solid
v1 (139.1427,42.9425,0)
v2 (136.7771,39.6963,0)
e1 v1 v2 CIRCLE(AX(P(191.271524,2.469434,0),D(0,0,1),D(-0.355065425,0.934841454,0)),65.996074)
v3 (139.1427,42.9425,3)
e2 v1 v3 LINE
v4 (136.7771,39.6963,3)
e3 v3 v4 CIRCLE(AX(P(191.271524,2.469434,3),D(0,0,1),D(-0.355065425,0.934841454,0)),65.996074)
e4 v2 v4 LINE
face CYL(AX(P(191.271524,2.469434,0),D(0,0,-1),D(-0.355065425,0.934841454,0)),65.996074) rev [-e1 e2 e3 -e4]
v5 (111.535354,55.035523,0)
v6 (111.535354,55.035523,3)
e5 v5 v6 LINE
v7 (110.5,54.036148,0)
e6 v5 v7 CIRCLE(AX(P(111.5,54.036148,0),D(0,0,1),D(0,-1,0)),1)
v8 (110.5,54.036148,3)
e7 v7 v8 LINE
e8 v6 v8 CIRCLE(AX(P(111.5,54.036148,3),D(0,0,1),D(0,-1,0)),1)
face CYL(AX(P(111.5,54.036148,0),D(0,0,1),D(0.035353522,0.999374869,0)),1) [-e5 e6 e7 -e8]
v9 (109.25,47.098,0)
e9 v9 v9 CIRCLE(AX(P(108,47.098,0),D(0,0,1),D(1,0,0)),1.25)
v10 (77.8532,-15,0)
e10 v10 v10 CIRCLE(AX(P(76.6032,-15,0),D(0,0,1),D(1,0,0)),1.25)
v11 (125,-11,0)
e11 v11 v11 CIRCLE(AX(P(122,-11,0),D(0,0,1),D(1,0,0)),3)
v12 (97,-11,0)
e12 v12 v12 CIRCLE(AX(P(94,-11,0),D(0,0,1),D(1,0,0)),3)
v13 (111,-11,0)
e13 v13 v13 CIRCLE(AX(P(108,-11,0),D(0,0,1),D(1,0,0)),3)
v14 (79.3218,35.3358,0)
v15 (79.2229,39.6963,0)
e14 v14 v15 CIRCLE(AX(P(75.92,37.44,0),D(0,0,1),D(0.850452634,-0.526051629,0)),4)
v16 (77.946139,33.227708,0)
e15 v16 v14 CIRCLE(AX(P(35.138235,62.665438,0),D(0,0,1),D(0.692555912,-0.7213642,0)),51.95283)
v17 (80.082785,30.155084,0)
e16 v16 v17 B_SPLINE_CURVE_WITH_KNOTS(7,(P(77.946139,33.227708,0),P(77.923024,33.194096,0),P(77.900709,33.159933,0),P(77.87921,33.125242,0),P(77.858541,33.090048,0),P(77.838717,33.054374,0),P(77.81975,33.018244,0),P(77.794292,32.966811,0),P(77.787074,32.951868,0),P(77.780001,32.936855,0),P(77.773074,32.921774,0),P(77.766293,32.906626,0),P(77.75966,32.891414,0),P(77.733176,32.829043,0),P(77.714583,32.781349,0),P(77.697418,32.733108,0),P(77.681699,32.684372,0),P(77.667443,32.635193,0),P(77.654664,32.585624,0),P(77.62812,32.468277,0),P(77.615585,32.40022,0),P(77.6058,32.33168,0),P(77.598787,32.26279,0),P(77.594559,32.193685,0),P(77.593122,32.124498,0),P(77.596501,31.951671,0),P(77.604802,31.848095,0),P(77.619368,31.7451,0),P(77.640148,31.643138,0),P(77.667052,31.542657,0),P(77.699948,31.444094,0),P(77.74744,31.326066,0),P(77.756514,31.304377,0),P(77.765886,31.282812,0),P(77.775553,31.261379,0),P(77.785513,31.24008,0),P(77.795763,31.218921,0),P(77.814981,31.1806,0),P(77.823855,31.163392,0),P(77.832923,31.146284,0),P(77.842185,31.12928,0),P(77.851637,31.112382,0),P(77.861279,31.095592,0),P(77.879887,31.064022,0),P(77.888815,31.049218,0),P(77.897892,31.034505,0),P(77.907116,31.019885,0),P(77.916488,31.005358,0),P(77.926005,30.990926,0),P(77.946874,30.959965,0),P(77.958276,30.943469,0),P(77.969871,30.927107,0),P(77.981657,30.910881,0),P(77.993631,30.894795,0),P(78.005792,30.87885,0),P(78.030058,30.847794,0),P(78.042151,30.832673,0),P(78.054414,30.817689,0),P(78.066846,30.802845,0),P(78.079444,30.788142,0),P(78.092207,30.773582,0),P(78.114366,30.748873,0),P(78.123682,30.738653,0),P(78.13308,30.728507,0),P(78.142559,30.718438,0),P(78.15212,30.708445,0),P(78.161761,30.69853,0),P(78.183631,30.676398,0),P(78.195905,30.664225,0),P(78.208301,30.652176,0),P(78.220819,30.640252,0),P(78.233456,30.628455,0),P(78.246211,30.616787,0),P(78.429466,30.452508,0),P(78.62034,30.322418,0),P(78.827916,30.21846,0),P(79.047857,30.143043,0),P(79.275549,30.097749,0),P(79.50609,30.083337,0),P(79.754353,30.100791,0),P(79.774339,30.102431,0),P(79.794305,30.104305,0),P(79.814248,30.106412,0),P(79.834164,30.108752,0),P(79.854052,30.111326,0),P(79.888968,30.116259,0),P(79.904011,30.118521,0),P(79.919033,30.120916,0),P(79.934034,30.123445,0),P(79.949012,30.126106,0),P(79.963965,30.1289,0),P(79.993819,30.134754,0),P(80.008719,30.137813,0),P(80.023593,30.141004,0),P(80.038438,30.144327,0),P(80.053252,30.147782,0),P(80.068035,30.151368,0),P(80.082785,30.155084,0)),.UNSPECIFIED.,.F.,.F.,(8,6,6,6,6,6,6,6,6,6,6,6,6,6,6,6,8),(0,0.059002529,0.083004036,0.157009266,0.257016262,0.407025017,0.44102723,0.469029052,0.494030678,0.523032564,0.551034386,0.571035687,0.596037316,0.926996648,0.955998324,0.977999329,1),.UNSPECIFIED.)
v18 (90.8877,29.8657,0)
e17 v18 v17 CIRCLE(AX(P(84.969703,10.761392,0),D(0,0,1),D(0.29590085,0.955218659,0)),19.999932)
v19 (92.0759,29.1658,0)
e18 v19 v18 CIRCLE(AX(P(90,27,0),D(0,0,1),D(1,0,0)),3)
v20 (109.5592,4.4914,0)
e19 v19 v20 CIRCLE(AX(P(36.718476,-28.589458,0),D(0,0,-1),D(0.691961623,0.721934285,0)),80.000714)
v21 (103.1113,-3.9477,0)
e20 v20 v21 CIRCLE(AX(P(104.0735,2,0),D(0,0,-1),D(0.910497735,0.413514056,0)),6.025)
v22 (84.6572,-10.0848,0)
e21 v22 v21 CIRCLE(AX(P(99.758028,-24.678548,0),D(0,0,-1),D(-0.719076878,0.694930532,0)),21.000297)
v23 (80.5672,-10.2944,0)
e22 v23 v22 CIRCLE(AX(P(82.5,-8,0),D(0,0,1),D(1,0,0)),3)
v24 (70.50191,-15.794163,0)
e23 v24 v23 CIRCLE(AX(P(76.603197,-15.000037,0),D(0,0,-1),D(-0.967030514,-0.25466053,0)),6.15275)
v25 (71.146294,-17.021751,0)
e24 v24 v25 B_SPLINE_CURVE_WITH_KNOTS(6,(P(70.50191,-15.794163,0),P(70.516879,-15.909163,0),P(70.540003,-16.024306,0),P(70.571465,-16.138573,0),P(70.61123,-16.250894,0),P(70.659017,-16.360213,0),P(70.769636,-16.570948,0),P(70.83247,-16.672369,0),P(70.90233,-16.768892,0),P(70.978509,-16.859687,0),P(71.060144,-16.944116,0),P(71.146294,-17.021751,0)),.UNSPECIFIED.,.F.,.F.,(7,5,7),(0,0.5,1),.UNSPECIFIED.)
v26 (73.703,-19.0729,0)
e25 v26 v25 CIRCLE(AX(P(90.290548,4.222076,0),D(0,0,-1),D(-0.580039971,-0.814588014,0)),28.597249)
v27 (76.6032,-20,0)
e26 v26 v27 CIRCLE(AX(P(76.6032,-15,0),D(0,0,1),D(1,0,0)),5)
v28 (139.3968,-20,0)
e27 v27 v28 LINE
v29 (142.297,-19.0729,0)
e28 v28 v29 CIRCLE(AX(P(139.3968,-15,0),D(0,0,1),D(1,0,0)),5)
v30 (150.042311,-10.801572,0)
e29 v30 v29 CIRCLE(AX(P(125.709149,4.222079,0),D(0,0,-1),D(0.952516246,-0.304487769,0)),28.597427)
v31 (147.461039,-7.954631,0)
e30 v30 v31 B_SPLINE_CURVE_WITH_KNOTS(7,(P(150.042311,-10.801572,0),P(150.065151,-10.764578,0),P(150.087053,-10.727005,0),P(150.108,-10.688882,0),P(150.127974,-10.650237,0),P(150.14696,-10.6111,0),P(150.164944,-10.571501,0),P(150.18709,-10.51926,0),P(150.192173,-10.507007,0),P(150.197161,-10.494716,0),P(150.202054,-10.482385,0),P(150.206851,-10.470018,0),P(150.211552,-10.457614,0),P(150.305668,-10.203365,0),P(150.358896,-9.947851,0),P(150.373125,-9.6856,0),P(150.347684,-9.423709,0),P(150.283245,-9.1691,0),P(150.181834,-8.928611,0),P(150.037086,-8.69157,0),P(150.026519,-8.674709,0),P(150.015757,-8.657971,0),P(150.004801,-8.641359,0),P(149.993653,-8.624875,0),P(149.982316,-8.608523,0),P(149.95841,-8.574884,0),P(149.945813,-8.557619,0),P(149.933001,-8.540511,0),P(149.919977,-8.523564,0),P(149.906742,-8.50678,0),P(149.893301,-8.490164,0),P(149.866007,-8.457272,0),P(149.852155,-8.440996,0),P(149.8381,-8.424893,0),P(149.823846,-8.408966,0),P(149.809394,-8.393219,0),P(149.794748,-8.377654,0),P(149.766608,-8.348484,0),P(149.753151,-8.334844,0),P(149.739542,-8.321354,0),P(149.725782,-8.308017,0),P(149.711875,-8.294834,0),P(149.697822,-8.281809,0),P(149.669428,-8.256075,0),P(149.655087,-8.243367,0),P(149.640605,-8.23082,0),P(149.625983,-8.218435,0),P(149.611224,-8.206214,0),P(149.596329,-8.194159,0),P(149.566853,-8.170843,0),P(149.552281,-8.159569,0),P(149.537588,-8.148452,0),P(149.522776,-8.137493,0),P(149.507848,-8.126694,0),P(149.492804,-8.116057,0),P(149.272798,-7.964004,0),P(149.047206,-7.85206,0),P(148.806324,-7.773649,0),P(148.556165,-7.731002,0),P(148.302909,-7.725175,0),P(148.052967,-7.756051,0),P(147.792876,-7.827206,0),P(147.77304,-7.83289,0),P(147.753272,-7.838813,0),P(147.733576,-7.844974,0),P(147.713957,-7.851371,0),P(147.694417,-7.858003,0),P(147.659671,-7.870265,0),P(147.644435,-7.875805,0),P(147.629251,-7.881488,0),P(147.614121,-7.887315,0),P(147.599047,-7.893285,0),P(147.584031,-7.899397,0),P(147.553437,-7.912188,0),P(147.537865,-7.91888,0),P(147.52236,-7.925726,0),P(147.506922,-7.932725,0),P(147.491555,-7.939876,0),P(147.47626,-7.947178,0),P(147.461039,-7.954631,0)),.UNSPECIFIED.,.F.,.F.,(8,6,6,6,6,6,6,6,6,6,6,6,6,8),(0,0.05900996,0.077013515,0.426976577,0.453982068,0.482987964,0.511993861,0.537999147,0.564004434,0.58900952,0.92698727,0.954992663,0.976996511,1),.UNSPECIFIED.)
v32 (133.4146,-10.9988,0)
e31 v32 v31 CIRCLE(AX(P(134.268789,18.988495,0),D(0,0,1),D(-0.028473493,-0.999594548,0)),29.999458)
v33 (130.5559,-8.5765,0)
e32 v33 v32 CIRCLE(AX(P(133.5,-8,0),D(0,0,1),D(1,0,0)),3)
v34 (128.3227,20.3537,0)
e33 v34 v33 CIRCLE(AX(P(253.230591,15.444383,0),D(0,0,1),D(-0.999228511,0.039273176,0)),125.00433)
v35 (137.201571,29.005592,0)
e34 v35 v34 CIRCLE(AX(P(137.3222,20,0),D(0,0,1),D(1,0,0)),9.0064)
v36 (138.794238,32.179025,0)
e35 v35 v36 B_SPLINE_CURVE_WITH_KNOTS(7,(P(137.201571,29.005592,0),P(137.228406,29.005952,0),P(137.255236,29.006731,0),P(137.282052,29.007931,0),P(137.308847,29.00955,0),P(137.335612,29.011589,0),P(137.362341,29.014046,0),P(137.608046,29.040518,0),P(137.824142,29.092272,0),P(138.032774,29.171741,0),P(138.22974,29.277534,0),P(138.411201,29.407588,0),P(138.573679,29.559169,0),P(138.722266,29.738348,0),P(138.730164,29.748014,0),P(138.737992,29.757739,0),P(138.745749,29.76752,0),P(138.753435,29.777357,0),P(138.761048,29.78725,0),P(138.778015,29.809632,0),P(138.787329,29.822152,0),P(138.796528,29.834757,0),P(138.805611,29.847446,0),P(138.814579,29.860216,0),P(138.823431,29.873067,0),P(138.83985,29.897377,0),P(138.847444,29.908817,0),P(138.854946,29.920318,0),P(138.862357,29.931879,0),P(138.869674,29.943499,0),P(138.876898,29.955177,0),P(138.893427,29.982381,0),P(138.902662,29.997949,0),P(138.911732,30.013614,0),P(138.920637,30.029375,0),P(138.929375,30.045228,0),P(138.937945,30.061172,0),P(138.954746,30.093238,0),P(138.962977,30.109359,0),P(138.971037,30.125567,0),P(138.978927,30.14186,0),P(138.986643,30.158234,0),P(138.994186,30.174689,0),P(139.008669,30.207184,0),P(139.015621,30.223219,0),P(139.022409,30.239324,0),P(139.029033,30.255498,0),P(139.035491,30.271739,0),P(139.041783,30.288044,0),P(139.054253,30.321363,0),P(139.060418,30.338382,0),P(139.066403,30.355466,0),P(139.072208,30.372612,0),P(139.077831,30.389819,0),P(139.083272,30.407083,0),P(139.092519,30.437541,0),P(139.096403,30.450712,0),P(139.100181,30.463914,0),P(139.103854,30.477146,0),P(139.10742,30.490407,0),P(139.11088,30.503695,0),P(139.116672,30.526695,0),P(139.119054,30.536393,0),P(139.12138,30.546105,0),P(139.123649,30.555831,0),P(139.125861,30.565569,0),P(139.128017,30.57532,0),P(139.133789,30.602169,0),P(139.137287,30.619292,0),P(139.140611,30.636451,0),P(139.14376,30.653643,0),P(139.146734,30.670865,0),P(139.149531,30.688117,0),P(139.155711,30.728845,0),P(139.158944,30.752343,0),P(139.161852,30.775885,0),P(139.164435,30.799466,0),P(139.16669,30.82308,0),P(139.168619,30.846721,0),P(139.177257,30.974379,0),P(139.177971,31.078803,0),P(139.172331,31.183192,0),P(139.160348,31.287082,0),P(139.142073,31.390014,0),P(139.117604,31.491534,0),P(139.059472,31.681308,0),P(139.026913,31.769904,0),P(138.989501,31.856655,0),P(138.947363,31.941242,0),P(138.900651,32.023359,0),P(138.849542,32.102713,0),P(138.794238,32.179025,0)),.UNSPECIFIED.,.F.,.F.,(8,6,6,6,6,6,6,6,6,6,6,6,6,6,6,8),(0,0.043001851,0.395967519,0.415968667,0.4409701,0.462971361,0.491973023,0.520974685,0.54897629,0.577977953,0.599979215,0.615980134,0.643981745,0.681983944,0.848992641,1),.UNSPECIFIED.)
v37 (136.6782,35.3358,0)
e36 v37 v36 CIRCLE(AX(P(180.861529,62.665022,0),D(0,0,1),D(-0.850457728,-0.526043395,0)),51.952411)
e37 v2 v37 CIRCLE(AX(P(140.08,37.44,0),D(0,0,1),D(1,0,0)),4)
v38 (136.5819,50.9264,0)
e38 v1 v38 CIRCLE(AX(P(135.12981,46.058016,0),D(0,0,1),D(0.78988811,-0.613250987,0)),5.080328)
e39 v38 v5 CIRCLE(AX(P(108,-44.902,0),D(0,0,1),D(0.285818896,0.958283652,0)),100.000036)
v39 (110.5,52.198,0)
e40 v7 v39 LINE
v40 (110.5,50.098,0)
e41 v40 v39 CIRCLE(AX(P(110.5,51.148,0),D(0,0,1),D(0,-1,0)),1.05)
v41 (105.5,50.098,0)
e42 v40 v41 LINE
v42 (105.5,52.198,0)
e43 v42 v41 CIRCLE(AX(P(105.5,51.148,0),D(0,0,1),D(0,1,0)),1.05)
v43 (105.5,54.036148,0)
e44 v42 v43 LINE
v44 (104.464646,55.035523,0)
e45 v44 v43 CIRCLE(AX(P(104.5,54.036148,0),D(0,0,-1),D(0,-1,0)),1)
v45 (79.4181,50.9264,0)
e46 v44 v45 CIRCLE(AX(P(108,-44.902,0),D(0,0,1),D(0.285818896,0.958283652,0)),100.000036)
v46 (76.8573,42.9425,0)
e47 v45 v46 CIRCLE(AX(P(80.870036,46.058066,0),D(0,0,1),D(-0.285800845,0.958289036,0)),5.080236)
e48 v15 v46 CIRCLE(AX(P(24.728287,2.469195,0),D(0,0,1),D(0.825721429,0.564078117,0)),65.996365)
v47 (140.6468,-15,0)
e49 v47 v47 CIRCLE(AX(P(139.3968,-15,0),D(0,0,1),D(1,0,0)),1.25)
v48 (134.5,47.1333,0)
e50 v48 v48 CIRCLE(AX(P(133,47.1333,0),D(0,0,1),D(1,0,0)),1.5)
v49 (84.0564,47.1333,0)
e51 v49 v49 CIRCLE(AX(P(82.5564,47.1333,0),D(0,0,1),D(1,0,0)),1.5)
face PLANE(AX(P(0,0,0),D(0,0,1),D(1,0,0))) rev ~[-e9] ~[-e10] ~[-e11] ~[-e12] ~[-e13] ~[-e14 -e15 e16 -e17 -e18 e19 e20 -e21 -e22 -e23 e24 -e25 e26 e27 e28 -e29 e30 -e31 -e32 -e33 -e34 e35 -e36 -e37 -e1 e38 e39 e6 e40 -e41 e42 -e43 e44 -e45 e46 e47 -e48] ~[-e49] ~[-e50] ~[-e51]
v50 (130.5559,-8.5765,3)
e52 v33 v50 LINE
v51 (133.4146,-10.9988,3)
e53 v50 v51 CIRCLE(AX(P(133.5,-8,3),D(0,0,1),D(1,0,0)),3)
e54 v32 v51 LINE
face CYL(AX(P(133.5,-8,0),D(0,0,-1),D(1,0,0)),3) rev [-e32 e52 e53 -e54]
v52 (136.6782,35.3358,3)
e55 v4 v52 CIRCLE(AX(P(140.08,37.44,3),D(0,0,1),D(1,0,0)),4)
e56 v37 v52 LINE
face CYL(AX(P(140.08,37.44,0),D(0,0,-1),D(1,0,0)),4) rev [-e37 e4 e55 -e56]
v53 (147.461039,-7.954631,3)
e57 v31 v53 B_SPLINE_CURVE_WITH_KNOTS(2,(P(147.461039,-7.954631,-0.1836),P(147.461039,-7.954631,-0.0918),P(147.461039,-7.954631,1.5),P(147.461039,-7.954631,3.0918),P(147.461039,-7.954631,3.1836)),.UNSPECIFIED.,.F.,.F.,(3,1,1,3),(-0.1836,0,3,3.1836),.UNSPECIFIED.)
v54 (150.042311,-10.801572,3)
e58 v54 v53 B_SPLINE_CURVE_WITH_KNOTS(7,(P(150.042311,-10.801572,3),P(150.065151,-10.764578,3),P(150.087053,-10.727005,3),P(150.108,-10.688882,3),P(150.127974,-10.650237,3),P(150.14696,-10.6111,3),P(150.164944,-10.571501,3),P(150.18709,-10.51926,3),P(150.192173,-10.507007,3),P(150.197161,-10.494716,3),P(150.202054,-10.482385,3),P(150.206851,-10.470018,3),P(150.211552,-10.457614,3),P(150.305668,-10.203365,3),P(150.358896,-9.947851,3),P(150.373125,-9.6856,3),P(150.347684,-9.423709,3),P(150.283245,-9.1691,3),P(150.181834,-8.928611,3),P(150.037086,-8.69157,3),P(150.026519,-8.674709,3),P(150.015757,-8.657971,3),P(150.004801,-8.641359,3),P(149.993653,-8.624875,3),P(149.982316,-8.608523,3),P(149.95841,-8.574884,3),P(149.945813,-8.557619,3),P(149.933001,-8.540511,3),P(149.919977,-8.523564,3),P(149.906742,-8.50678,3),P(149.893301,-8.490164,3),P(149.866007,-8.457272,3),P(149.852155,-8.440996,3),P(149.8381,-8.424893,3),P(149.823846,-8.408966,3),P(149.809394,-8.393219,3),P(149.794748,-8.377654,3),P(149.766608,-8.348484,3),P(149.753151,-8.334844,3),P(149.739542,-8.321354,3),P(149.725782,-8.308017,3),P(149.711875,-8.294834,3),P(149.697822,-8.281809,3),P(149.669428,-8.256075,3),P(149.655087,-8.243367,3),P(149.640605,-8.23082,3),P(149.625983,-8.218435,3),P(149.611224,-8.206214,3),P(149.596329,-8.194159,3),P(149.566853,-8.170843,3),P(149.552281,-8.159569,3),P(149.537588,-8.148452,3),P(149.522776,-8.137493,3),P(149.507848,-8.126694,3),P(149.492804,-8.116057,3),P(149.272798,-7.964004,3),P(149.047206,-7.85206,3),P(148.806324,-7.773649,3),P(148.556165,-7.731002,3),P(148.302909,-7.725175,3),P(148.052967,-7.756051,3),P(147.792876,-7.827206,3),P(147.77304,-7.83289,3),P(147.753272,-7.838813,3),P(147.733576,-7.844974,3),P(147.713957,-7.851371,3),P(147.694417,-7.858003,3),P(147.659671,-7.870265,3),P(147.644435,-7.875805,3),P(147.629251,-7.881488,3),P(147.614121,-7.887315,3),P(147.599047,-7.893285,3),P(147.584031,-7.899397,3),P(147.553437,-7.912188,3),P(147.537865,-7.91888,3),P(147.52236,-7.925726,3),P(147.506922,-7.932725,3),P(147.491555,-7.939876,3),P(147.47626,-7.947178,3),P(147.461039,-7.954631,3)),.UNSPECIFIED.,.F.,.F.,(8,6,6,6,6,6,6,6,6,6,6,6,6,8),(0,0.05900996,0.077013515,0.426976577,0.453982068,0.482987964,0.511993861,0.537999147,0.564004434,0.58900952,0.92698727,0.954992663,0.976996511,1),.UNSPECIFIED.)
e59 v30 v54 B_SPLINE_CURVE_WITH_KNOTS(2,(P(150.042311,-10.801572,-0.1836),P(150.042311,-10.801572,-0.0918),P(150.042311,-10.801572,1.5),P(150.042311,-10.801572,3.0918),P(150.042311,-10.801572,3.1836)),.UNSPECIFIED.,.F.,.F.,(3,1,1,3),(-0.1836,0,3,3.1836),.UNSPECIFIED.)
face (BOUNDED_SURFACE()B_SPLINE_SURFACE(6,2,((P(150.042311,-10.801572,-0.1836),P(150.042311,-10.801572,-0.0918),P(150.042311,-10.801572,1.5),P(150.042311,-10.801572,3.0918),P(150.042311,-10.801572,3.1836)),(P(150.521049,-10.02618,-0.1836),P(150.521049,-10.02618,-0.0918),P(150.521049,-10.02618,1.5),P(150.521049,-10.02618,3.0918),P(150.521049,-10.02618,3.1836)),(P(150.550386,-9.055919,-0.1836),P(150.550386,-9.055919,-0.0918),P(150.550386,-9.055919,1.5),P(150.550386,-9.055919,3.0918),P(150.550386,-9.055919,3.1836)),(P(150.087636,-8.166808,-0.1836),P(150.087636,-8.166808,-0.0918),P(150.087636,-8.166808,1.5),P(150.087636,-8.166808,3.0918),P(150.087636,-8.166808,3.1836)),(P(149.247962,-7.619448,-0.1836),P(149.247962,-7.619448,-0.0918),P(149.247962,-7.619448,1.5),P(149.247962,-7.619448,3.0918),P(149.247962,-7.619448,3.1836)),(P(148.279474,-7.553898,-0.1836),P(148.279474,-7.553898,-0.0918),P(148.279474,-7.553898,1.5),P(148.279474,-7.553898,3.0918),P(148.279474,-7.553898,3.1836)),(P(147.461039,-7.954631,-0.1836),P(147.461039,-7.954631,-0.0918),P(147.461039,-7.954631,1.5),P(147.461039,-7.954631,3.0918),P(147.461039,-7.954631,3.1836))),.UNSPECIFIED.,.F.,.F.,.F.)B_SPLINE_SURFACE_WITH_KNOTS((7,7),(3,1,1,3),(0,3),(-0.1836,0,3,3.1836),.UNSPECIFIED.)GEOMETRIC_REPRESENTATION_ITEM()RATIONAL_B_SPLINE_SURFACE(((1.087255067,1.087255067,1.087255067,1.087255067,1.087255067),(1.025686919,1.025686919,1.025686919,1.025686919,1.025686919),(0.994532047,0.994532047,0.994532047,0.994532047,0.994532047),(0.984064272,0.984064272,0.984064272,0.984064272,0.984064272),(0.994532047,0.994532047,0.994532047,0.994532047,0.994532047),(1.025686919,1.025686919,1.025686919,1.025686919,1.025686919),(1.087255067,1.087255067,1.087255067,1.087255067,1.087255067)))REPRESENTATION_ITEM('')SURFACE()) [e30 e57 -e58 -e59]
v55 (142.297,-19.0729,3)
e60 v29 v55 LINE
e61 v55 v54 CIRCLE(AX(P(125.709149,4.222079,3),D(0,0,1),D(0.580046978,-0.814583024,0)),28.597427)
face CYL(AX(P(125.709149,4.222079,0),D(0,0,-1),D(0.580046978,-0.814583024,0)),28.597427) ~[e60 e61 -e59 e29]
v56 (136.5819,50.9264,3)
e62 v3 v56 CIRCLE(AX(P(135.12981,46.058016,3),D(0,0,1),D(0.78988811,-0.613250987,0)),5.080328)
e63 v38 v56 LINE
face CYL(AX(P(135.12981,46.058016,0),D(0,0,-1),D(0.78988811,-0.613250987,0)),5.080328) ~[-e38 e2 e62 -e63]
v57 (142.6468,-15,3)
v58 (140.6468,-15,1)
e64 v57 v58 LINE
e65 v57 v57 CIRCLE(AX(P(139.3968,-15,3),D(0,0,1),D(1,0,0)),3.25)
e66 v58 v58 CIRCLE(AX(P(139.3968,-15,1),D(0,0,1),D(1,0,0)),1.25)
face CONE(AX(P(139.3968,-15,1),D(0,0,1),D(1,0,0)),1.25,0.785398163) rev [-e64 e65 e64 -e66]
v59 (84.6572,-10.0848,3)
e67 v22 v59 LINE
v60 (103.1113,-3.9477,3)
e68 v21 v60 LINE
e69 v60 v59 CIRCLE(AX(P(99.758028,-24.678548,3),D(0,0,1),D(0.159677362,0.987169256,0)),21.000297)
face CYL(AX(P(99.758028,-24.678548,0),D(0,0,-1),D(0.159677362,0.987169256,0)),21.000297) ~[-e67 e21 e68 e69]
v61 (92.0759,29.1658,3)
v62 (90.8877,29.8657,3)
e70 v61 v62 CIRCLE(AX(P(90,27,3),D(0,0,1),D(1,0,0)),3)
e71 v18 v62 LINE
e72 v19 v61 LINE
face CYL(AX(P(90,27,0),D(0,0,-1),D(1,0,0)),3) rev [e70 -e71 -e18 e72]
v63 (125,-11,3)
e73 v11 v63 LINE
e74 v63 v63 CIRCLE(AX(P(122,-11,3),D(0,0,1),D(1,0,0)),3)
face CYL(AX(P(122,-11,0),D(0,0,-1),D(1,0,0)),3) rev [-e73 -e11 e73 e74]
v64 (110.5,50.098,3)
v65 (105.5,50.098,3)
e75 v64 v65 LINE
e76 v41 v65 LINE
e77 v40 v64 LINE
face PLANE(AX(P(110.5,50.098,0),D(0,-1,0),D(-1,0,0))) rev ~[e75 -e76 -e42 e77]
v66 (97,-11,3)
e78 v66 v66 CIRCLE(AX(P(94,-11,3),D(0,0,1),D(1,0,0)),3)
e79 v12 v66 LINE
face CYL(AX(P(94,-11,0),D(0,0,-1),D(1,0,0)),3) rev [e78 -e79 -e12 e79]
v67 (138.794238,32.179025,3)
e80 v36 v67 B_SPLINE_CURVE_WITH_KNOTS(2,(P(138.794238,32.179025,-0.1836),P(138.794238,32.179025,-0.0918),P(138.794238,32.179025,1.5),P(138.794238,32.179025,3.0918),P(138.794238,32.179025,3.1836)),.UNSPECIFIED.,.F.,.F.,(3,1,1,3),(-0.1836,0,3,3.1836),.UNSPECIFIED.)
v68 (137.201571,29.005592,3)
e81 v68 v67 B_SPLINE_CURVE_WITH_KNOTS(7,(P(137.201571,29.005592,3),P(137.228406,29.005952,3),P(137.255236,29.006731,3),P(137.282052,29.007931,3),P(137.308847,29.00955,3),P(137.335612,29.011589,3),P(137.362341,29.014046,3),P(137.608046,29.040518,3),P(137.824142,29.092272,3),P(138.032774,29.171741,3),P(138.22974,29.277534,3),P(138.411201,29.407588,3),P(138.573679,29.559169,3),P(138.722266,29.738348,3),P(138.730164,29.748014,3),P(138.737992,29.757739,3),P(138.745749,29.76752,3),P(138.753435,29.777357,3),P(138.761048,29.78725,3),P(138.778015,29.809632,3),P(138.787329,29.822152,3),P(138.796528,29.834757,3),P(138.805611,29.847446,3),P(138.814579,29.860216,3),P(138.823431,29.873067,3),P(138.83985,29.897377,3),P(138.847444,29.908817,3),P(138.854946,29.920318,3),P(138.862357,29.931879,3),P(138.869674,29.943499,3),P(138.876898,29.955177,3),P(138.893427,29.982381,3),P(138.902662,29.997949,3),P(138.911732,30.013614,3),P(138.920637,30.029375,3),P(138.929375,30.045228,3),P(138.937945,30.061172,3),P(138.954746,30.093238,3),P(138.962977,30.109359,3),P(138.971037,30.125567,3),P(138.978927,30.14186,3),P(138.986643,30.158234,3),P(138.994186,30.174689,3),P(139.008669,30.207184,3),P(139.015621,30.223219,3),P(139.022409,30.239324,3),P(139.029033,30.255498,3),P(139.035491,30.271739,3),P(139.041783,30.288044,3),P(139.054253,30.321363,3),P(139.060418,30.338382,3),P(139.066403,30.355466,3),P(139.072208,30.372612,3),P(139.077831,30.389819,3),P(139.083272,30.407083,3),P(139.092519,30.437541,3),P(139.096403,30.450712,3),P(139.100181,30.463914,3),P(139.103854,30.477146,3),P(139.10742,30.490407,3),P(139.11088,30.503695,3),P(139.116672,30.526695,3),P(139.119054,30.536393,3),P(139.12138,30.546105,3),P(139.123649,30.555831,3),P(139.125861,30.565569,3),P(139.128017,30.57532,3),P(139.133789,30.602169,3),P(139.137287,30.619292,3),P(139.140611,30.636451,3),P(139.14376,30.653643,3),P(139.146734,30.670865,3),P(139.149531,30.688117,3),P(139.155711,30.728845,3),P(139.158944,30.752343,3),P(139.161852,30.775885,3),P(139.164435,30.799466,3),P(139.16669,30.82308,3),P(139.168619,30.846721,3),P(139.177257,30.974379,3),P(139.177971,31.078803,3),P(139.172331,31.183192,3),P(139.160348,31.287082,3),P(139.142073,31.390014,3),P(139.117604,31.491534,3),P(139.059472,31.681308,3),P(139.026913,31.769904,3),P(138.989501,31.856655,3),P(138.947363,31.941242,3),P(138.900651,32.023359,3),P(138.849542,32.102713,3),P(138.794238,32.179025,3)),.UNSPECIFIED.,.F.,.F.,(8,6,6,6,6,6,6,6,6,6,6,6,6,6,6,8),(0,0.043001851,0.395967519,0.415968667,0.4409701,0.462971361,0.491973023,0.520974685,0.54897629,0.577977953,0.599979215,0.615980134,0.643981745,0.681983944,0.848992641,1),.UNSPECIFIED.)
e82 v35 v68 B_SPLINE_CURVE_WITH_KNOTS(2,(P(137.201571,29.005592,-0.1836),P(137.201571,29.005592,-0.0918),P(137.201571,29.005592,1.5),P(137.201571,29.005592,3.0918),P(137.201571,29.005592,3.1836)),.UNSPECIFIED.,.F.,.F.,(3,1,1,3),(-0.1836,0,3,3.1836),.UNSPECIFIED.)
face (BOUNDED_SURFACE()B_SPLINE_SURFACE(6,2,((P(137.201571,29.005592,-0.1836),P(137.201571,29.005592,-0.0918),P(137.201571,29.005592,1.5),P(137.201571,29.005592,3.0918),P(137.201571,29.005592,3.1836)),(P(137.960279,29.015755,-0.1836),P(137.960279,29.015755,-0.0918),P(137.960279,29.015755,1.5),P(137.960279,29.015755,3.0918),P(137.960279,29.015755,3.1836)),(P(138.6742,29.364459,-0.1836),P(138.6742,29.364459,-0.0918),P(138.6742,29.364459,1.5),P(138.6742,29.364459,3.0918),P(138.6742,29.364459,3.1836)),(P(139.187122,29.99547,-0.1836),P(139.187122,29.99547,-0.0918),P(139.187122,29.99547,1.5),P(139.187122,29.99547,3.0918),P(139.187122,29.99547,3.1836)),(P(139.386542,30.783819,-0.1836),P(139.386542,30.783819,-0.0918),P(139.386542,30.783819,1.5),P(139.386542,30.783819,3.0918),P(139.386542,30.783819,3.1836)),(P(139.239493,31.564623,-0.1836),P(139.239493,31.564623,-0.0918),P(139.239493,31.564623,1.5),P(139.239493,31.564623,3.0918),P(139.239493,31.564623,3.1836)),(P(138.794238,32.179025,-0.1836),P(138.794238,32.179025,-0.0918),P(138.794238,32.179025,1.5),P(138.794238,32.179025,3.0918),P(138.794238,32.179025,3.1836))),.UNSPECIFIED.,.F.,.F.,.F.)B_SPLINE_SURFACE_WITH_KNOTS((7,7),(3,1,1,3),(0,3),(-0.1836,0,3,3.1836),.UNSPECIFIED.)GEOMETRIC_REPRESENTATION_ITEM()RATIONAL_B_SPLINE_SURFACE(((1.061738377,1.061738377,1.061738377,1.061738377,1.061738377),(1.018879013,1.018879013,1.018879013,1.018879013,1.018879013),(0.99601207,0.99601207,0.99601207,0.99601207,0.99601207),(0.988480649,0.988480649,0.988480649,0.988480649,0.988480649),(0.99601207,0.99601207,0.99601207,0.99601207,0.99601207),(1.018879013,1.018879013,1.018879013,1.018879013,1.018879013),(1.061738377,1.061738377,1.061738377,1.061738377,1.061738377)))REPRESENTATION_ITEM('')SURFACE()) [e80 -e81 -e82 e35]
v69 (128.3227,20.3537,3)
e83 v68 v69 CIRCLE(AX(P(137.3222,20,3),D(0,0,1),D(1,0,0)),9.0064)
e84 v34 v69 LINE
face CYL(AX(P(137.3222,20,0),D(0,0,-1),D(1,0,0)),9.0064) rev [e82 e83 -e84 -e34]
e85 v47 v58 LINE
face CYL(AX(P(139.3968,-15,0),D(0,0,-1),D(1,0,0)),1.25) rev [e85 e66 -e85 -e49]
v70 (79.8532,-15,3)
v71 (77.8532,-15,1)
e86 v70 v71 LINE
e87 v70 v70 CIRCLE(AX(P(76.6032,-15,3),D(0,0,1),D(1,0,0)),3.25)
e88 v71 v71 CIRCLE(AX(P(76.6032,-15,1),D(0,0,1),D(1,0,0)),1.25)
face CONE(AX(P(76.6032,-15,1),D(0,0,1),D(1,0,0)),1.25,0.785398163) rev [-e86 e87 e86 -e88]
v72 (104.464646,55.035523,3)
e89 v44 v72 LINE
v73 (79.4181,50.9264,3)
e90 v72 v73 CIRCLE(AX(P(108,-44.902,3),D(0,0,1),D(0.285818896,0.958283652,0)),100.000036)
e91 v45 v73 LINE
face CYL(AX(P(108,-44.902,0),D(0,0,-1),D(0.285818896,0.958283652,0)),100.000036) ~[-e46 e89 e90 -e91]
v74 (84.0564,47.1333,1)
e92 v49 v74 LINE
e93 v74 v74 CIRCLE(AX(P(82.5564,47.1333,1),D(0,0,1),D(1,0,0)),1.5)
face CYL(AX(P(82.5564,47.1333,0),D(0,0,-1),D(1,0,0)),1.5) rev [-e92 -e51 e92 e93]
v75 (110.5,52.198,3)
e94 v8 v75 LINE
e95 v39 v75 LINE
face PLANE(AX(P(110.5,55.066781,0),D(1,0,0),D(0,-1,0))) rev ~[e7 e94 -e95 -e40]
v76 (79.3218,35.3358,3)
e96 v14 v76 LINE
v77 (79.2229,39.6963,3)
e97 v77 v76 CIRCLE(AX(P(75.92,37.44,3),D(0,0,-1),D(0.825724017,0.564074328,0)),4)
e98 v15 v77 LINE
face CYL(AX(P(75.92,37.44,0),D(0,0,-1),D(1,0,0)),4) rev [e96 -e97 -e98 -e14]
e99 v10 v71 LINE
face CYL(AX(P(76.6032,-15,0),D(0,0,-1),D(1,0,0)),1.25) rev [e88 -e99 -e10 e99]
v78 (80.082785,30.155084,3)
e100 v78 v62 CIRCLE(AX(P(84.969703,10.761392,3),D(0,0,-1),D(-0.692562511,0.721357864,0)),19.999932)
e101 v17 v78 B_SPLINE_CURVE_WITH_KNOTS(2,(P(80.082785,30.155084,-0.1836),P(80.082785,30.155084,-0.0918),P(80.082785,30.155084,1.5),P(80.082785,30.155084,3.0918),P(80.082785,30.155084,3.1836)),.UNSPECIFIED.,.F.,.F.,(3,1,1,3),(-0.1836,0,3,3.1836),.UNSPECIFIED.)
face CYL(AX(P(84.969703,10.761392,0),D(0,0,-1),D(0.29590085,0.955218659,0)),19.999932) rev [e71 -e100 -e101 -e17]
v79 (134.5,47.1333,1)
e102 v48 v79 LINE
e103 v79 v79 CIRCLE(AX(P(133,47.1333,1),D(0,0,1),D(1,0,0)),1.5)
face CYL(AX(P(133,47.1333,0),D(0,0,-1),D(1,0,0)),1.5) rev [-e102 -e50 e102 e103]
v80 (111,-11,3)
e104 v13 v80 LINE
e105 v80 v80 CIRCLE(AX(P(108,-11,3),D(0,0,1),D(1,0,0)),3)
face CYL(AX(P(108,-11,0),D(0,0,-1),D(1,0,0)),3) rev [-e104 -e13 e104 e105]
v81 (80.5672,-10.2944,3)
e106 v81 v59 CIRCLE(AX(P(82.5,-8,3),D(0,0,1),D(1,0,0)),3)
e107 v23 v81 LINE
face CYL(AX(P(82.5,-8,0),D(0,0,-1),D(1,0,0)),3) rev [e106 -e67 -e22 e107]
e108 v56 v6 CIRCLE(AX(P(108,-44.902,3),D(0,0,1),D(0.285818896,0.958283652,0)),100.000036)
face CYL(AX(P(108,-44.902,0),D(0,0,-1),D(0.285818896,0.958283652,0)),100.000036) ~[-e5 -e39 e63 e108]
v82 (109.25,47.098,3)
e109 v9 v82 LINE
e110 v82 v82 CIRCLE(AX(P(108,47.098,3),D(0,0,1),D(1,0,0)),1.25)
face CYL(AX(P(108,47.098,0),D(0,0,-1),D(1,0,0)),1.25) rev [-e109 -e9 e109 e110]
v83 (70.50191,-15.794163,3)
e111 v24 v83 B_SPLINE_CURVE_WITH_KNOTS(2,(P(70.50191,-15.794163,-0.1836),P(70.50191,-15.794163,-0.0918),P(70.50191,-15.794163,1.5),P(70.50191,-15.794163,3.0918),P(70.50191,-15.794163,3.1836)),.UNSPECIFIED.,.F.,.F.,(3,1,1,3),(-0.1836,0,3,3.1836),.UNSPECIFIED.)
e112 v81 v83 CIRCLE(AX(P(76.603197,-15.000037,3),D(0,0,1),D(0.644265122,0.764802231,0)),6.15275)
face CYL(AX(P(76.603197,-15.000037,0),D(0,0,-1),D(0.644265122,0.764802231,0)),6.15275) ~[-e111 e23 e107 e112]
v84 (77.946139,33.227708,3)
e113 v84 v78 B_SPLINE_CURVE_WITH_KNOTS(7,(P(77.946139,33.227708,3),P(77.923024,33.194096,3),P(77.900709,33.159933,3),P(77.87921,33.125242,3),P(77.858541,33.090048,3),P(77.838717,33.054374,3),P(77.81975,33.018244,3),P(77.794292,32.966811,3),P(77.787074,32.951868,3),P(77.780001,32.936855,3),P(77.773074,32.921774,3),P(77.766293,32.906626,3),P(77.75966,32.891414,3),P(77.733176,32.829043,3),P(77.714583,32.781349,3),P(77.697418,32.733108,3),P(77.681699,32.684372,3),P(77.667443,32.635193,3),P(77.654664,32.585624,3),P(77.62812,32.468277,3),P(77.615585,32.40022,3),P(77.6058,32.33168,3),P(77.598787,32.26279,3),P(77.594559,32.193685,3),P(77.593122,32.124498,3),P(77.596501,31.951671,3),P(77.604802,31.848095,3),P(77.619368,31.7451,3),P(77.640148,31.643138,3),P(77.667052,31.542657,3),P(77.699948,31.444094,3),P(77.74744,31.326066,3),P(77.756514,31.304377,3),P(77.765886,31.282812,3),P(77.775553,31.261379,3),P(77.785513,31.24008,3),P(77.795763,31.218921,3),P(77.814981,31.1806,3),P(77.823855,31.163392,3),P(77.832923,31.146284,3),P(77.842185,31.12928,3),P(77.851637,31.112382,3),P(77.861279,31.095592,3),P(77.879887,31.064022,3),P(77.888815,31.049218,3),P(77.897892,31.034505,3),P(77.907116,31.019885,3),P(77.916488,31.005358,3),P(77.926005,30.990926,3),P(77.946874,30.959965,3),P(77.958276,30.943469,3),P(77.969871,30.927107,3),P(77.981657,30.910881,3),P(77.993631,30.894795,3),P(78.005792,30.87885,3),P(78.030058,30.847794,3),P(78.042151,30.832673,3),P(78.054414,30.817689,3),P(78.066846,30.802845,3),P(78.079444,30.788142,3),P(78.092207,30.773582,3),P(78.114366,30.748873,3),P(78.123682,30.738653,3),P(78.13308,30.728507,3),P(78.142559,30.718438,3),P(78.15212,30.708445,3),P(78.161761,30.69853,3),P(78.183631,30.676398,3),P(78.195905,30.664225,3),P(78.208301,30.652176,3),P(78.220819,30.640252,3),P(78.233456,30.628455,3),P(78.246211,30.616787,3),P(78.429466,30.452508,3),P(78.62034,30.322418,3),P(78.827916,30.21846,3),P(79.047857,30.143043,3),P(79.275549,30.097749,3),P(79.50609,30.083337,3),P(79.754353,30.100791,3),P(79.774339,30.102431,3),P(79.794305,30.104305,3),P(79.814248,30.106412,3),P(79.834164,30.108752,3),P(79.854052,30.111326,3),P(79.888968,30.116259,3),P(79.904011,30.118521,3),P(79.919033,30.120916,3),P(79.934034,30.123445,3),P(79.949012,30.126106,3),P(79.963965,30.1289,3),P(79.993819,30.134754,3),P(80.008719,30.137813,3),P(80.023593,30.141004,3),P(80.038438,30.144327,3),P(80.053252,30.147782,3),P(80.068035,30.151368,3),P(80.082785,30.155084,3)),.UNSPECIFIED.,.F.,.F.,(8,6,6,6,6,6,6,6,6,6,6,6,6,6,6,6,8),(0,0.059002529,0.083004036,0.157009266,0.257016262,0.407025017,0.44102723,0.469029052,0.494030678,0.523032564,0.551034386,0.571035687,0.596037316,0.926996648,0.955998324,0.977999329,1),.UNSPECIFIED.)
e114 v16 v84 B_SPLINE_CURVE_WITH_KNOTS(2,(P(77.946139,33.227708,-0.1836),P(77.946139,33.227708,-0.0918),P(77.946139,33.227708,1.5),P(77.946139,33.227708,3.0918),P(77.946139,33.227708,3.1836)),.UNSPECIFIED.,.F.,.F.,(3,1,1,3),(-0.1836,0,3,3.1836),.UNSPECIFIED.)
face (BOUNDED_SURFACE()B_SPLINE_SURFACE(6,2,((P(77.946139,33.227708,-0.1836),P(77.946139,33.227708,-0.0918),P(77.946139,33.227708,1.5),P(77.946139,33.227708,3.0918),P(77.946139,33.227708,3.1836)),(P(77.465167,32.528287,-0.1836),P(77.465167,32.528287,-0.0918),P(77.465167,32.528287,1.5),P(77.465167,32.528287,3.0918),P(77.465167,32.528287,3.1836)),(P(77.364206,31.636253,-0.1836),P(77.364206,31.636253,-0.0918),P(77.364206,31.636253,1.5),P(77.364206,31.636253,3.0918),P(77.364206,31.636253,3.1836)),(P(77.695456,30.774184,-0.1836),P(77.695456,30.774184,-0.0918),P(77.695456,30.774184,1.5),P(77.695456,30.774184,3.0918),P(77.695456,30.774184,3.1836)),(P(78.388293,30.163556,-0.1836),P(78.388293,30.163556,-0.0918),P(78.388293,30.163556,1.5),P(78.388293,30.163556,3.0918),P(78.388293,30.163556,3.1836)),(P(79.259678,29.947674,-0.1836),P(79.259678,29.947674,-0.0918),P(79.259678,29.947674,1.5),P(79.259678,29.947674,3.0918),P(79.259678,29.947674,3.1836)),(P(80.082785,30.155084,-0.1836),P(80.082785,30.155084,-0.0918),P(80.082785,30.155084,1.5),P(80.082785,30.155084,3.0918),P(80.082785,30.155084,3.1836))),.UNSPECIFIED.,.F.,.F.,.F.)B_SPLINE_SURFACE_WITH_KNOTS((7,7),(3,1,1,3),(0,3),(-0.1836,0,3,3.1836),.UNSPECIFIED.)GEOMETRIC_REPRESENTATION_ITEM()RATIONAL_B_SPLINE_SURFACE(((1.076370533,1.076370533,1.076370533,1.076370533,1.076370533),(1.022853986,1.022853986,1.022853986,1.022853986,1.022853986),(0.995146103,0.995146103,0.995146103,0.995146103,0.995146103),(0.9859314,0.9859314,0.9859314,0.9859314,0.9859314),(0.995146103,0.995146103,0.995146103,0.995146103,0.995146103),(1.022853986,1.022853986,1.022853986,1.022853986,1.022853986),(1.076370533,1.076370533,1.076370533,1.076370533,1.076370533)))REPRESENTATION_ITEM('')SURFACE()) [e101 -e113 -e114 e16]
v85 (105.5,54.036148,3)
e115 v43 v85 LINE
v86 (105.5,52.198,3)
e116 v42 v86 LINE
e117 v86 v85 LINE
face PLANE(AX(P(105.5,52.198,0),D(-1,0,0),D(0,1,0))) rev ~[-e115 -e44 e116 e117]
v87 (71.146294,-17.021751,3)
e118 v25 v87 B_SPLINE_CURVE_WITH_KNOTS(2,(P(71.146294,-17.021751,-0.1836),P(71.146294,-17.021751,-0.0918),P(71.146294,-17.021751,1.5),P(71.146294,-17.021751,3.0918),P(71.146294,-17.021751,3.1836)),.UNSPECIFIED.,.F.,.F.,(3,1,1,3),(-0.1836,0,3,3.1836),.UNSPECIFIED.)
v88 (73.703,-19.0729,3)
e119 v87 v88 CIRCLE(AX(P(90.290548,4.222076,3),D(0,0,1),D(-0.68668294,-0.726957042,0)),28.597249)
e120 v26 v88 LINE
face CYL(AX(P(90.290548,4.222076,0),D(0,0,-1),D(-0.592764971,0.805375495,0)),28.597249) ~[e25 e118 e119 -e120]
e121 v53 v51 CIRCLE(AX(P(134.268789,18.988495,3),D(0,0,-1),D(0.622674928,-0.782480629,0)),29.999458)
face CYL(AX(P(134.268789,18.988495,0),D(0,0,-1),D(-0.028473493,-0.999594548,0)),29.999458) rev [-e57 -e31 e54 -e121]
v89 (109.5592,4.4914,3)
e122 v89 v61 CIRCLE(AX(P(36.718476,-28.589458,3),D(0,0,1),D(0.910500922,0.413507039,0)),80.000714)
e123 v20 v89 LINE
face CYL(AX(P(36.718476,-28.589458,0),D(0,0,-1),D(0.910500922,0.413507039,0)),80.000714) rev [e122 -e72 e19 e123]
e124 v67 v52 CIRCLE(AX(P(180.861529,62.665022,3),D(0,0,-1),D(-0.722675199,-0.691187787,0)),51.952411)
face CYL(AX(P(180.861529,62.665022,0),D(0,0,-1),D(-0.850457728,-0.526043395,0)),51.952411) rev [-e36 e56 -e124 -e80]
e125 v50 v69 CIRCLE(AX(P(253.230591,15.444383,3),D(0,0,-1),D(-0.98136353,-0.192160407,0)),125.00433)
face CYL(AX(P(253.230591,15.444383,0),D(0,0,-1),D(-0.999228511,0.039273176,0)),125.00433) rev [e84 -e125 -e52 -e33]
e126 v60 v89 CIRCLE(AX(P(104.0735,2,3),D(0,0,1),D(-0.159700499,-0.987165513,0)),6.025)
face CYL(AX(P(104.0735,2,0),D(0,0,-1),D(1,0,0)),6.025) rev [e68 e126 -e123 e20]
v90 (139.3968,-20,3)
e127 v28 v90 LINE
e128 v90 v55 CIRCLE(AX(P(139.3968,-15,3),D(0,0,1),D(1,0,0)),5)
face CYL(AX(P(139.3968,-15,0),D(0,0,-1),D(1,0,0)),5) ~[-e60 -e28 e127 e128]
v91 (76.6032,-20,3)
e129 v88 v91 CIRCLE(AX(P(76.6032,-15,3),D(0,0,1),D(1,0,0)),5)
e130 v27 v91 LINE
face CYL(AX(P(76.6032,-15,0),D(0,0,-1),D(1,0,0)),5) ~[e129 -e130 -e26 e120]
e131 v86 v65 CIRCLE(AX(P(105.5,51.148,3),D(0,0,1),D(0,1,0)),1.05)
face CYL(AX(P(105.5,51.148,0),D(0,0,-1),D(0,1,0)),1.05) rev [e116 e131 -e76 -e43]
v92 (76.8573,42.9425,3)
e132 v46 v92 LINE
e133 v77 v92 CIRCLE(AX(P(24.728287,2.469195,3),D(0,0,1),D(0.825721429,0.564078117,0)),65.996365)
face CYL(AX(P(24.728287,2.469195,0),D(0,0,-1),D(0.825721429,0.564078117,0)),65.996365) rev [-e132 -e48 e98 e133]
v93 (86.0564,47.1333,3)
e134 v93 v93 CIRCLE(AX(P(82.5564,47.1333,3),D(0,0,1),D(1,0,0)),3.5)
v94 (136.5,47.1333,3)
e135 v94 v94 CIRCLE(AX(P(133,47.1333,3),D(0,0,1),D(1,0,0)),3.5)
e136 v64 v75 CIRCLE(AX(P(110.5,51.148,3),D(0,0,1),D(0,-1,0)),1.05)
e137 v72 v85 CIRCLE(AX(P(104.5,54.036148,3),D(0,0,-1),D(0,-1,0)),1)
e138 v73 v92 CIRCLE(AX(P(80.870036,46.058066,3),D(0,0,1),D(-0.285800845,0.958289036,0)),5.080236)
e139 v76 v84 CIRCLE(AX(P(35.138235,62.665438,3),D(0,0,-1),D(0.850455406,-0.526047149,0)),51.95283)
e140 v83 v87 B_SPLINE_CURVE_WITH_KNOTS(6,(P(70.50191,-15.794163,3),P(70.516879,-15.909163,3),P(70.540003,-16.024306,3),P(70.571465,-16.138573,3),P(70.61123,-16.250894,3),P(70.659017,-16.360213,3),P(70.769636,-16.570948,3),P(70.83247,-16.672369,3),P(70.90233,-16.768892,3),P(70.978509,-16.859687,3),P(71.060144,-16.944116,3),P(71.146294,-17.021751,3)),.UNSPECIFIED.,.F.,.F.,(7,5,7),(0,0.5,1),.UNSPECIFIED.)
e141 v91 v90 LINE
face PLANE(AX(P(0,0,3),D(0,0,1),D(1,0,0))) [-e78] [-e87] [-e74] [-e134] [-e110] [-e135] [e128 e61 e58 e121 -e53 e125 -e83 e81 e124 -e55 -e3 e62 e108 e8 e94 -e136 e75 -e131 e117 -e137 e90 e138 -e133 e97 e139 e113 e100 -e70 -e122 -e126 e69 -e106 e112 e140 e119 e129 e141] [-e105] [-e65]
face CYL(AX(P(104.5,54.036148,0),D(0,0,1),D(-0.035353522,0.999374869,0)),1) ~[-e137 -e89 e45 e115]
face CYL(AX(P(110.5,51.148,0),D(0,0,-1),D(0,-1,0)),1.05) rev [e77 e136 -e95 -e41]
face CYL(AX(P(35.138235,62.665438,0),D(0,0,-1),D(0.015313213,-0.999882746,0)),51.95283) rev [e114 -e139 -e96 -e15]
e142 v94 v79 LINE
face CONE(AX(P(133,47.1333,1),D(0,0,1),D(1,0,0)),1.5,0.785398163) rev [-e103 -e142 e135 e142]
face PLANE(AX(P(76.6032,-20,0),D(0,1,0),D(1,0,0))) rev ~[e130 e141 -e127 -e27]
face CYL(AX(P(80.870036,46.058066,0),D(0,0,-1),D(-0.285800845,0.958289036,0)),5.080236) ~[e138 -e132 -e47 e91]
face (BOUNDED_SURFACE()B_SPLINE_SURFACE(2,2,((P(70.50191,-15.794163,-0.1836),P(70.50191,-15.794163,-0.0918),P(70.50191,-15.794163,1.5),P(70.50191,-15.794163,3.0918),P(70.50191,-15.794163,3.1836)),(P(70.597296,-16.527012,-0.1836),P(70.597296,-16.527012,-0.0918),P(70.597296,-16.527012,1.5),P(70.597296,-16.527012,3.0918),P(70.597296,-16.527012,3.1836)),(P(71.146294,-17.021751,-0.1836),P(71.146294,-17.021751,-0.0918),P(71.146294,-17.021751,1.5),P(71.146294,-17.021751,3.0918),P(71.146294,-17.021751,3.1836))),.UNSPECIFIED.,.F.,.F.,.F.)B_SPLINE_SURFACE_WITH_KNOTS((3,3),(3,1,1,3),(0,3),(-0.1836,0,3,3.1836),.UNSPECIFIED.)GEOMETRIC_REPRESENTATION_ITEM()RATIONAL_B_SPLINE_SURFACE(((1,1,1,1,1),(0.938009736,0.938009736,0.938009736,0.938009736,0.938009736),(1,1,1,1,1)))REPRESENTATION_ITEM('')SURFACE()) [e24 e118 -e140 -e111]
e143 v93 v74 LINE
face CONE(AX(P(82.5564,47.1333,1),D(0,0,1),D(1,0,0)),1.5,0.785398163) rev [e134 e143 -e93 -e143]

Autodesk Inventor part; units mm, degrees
ref_plane "YZ Plane" through (0, 0, 0) normal (1, 0, 0) x (0, 1, 0)
ref_plane "XZ Plane" through (0, 0, 0) normal (0, 1, 0) x (-1, 0, 0)
ref_plane "XY Plane" through (0, 0, 0) normal (0, 0, 1) x (1, 0, 0)
sketch "スケッチ1" plane through (0, 0, 0) normal (0, 0, 1) x (1, 0, 0)
  circle A0 centre (82.5564, 47.1333) radius 1.5
  circle A1 centre (133, 47.1333) radius 1.5
  circle A2 centre (76.6032, -15) radius 1.25
  circle A3 centre (139.3968, -15) radius 1.25
  circle A4 centre (104.0735, 2) radius 6.025
  circle A5 centre (137.3222, 20) radius 9.0064
  circle A6 centre (133.5, -8) radius 3
  circle A7 centre (82.5, -8) radius 3
  circle A8 centre (90, 27) radius 3
  arc A9 (90.8877, 29.8657) -> (71.1185, 25.1885) centre (84.9697, 10.7613) ccw
  circle A10 centre (90, 27) radius 3
  arc A11 (109.5592, 4.4914) -> (92.0759, 29.1658) centre (36.7191, -28.5891) ccw
  circle A12 centre (104.0735, 2) radius 6.025
  circle A13 centre (82.5, -8) radius 3
  arc A14 (80.5672, -10.2944) -> (70.6533, -16.5669) centre (76.6032, -15) ccw
  arc A15 (128.3227, 20.3537) -> (130.5559, -8.5765) centre (253.2262, 15.4443) ccw
  circle A16 centre (137.3222, 20) radius 9.0064
  arc A17 (142.297, -19.0729) -> (142.6609, 27.2536) centre (125.7093, 4.222) ccw
  arc A18 (136.6782, 35.3358) -> (180.0662, 10.7187) centre (180.8617, 62.6652) ccw
  arc A19 (133.4146, -10.9988) -> (152.9487, -4.4855) centre (134.2687, 18.9891) ccw
  circle A20 centre (133.5, -8) radius 3
  arc A21 (79.4181, 50.9264) -> (76.8573, 42.9425) centre (80.8701, 46.058) ccw
  arc A22 (136.5819, 50.9264) -> (79.4181, 50.9264) centre (108, -44.902) ccw
  arc A23 (139.1427, 42.9425) -> (136.5819, 50.9264) centre (135.1299, 46.058) ccw
  line L0 (135.1299, 46.058) -> (140.08, 37.44) construction
  arc A24 (167.8386, 64.1653) -> (136.7771, 39.6963) centre (191.2716, 2.4693) ccw
  circle A25 centre (140.08, 37.44) radius 4
  arc A26 (136.8078, 35.1273) -> (180.0662, 10.7187) centre (180.8617, 62.6652) ccw
  circle A27 centre (75.92, 37.44) radius 4
  arc A28 (79.2229, 39.6963) -> (48.1614, 64.1653) centre (24.7284, 2.4693) ccw
  arc A29 (35.9338, 10.7187) -> (79.3218, 35.3358) centre (35.1383, 62.6652) ccw
  line L1 (105.5, 50.098) -> (105.5, 57.098)
  line L2 (110.5, 50.098) -> (105.5, 50.098)
  line L3 (110.5, 57.098) -> (110.5, 50.098)
  line L4 (76.6032, -20) -> (139.3968, -20)
  arc A30 (142.297, -19.0729) -> (142.6609, 27.2536) centre (125.7093, 4.222) ccw
  arc A31 (73.3391, 27.2536) -> (73.703, -19.0729) centre (90.2907, 4.222) ccw
  circle A32 centre (76.6032, -15) radius 5
  circle A33 centre (94, -11) radius 1.5
  circle A34 centre (108, -11) radius 1.5
  circle A35 centre (122, -11) radius 1.5
  circle A36 centre (139.3968, -15) radius 5
  arc A37 (91.1836, 30.8209) -> (70.426, 25.9099) centre (84.9697, 10.7613) ccw
  circle A38 centre (90, 27) radius 4
  arc A39 (110.4697, 4.9049) -> (92.7678, 29.8877) centre (36.7191, -28.5891) ccw
  circle A40 centre (104.0735, 2) radius 7.025
  circle A41 centre (82.5, -8) radius 4
  arc A42 (79.9229, -11.0592) -> (72.6057, -18.2512) centre (76.6032, -15) ccw
  circle A43 centre (137.3222, 20) radius 10.0064
  arc A44 (127.3234, 20.393) -> (129.5746, -8.7687) centre (253.2262, 15.4443) ccw
  circle A45 centre (133.5, -8) radius 4
  arc A46 (133.3861, -11.9984) -> (153.5714, -5.268) centre (134.2687, 18.9891) ccw
  arc A47 (149.962, -10.931) -> (148.0243, -8.7919) centre (148.6899, -10.1362) ccw
  circle A48 centre (94, -11) radius 3
  circle A49 centre (108, -11) radius 3
  circle A50 centre (122, -11) radius 3
  arc A51 (78.0489, 33.3777) -> (79.6666, 31.0807) centre (79.2878, 32.5321) ccw
  arc A52 (137.4162, 30.006) -> (138.6491, 32.3803) centre (137.4303, 31.5059) ccw
  arc A53 (103.1113, -3.9477) -> (84.6572, -10.0848) centre (99.758, -24.6782) ccw
  arc A54 (102.9517, -4.9349) -> (85.3763, -10.7797) centre (99.758, -24.6782) ccw
  line L5 (108, 72.8318) -> (108, -27.6373) construction
  line L6 (110.5, 57.098) -> (110.5, 50.098)
  line L7 (110.5, 50.098) -> (105.5, 50.098)
  line L8 (105.5, 50.098) -> (105.5, 57.098)
  arc A55 (105.5, 52.198) -> (105.5, 50.098) centre (105.5, 51.148) ccw
  line L9 (105.5, 50.098) -> (105.5, 51.148) construction
  line L10 (105.5, 52.198) -> (105.5, 51.148) construction
  arc A56 (110.5, 50.098) -> (110.5, 52.198) centre (110.5, 51.148) ccw
  line L11 (110.5, 50.098) -> (110.5, 51.148) construction
  line L12 (110.5, 52.198) -> (110.5, 51.148) construction
  line L13 (105.5, 57.098) -> (105.5, 44.098)
  line L14 (105.5, 44.098) -> (110.5, 44.098)
  line L15 (110.5, 44.098) -> (110.5, 57.098)
  circle A57 centre (108, 47.098) radius 1.25
  point P0 (0, 0)
  point P1 (86.8725, 16.8134)
  point P2 (144.2273, 7.0155)
  point P3 (129.1275, 16.8134)
  point P4 (147.2589, -13)
  point P5 (133.2785, 1.3235)
  point P6 (127.5476, 8.263)
  point P7 (132.4267, -7.6361)
  point P8 (94, -9)
  point P9 (108, -9)
  point P10 (122, -9)
  point P11 (96, 42)
  point P12 (120, 42)
  point P13 (138.7615, 30.8147)
  point P14 (105.5, 55.0668)
  point P15 (92.7678, 29.8877)
  point P16 (102.9517, -4.9349)
  point P17 (85.3763, -10.7797)
  point P18 (149.962, -10.931)
  point P19 (129.5746, -8.7687)
  point P20 (138.6491, 32.3803)
  point P21 (110.5, 55.0668)
  point P22 (143.3172, 26.7558)
  point P23 (108, -14.5)
  point P24 (108, 57.098)
  dimension "d0" = 1
  dimension "d1" = 1
  dimension "d2" = 1
  dimension "d3" = 1
  dimension "d4" = 1
  dimension "d5" = 1
  dimension "d6" = 1
  dimension "d7" = 1
  dimension "d8" = 1
  dimension "d9" = 1
  dimension "d10" = 1.5
  dimension "d11" = 6
  dimension "d12" = 6
  dimension "d13" = 6
  dimension "d14" = 1.5
  dimension "d15" = 1
  dimension "d24" = 5
  dimension "d25" = 1.05
  dimension "d26" = 180
  dimension "d27" = 1.05
  dimension "d28" = 180
  dimension "d29" = 13
  dimension "d30" = 2.5
  dimension "d31" = 3
extrude "押し出し1" add sketch "スケッチ1" along normal blind 3 contours A4 A11 A40 A53 | A11 A38 A39 A40 | A40 A54 A41 A53 | A11 A8 A9 A38 | A39 A38 A37 A51 A29 A27 A28 A21 A22 L1 A55 L13 L14 L15 A56 L3 A23 A24 A25 A18 A52 A43 A44 A45 A46 A36 L4 A32 A31 A42 A41 A54 A40 | A41 A14 A7 A53 | A9 A29 A37 A38 | A42 A31 A14 A41 | A37 A29 A51 | A32 | A36 A46 | A36 A46 A47 A17 | A46 A45 A19 A36 | A36 A19 A46 | A47 A46 A17 | A45 A15 A6 A19 | A36 A19 A17 A46 | A44 A43 A15 A45 | A43 A18 A17 A5 A15 | L2 L15 L14 L13 | A52 A18 A43 picked at (110.6939, 1.4268) picked at (92.7442, 29.3928) picked at (85.317, -10.3143) picked at (129.8786, -8.3803)
chamfer "面取り1" distance 2 angle 45 4 edges at (81.0564, 47.1333, 3) (131.5, 47.1333, 3) (75.3532, -15, 3) (138.1468, -15, 3)
fillet "フィレット1" radius 2 4 edges at (70.6533, -16.5669, 1.5) (152.9487, -4.4855, 1.5) (143.3172, 26.7558, 1.5) (71.1185, 25.1885, 1.5)
fillet "フィレット2" radius 1 2 edges at (105.5, 55.0668, 1.5) (110.5, 55.0668, 1.5)
properties part number "脚中間フレーム外v2" material "アルミニウム 2014-T4"
